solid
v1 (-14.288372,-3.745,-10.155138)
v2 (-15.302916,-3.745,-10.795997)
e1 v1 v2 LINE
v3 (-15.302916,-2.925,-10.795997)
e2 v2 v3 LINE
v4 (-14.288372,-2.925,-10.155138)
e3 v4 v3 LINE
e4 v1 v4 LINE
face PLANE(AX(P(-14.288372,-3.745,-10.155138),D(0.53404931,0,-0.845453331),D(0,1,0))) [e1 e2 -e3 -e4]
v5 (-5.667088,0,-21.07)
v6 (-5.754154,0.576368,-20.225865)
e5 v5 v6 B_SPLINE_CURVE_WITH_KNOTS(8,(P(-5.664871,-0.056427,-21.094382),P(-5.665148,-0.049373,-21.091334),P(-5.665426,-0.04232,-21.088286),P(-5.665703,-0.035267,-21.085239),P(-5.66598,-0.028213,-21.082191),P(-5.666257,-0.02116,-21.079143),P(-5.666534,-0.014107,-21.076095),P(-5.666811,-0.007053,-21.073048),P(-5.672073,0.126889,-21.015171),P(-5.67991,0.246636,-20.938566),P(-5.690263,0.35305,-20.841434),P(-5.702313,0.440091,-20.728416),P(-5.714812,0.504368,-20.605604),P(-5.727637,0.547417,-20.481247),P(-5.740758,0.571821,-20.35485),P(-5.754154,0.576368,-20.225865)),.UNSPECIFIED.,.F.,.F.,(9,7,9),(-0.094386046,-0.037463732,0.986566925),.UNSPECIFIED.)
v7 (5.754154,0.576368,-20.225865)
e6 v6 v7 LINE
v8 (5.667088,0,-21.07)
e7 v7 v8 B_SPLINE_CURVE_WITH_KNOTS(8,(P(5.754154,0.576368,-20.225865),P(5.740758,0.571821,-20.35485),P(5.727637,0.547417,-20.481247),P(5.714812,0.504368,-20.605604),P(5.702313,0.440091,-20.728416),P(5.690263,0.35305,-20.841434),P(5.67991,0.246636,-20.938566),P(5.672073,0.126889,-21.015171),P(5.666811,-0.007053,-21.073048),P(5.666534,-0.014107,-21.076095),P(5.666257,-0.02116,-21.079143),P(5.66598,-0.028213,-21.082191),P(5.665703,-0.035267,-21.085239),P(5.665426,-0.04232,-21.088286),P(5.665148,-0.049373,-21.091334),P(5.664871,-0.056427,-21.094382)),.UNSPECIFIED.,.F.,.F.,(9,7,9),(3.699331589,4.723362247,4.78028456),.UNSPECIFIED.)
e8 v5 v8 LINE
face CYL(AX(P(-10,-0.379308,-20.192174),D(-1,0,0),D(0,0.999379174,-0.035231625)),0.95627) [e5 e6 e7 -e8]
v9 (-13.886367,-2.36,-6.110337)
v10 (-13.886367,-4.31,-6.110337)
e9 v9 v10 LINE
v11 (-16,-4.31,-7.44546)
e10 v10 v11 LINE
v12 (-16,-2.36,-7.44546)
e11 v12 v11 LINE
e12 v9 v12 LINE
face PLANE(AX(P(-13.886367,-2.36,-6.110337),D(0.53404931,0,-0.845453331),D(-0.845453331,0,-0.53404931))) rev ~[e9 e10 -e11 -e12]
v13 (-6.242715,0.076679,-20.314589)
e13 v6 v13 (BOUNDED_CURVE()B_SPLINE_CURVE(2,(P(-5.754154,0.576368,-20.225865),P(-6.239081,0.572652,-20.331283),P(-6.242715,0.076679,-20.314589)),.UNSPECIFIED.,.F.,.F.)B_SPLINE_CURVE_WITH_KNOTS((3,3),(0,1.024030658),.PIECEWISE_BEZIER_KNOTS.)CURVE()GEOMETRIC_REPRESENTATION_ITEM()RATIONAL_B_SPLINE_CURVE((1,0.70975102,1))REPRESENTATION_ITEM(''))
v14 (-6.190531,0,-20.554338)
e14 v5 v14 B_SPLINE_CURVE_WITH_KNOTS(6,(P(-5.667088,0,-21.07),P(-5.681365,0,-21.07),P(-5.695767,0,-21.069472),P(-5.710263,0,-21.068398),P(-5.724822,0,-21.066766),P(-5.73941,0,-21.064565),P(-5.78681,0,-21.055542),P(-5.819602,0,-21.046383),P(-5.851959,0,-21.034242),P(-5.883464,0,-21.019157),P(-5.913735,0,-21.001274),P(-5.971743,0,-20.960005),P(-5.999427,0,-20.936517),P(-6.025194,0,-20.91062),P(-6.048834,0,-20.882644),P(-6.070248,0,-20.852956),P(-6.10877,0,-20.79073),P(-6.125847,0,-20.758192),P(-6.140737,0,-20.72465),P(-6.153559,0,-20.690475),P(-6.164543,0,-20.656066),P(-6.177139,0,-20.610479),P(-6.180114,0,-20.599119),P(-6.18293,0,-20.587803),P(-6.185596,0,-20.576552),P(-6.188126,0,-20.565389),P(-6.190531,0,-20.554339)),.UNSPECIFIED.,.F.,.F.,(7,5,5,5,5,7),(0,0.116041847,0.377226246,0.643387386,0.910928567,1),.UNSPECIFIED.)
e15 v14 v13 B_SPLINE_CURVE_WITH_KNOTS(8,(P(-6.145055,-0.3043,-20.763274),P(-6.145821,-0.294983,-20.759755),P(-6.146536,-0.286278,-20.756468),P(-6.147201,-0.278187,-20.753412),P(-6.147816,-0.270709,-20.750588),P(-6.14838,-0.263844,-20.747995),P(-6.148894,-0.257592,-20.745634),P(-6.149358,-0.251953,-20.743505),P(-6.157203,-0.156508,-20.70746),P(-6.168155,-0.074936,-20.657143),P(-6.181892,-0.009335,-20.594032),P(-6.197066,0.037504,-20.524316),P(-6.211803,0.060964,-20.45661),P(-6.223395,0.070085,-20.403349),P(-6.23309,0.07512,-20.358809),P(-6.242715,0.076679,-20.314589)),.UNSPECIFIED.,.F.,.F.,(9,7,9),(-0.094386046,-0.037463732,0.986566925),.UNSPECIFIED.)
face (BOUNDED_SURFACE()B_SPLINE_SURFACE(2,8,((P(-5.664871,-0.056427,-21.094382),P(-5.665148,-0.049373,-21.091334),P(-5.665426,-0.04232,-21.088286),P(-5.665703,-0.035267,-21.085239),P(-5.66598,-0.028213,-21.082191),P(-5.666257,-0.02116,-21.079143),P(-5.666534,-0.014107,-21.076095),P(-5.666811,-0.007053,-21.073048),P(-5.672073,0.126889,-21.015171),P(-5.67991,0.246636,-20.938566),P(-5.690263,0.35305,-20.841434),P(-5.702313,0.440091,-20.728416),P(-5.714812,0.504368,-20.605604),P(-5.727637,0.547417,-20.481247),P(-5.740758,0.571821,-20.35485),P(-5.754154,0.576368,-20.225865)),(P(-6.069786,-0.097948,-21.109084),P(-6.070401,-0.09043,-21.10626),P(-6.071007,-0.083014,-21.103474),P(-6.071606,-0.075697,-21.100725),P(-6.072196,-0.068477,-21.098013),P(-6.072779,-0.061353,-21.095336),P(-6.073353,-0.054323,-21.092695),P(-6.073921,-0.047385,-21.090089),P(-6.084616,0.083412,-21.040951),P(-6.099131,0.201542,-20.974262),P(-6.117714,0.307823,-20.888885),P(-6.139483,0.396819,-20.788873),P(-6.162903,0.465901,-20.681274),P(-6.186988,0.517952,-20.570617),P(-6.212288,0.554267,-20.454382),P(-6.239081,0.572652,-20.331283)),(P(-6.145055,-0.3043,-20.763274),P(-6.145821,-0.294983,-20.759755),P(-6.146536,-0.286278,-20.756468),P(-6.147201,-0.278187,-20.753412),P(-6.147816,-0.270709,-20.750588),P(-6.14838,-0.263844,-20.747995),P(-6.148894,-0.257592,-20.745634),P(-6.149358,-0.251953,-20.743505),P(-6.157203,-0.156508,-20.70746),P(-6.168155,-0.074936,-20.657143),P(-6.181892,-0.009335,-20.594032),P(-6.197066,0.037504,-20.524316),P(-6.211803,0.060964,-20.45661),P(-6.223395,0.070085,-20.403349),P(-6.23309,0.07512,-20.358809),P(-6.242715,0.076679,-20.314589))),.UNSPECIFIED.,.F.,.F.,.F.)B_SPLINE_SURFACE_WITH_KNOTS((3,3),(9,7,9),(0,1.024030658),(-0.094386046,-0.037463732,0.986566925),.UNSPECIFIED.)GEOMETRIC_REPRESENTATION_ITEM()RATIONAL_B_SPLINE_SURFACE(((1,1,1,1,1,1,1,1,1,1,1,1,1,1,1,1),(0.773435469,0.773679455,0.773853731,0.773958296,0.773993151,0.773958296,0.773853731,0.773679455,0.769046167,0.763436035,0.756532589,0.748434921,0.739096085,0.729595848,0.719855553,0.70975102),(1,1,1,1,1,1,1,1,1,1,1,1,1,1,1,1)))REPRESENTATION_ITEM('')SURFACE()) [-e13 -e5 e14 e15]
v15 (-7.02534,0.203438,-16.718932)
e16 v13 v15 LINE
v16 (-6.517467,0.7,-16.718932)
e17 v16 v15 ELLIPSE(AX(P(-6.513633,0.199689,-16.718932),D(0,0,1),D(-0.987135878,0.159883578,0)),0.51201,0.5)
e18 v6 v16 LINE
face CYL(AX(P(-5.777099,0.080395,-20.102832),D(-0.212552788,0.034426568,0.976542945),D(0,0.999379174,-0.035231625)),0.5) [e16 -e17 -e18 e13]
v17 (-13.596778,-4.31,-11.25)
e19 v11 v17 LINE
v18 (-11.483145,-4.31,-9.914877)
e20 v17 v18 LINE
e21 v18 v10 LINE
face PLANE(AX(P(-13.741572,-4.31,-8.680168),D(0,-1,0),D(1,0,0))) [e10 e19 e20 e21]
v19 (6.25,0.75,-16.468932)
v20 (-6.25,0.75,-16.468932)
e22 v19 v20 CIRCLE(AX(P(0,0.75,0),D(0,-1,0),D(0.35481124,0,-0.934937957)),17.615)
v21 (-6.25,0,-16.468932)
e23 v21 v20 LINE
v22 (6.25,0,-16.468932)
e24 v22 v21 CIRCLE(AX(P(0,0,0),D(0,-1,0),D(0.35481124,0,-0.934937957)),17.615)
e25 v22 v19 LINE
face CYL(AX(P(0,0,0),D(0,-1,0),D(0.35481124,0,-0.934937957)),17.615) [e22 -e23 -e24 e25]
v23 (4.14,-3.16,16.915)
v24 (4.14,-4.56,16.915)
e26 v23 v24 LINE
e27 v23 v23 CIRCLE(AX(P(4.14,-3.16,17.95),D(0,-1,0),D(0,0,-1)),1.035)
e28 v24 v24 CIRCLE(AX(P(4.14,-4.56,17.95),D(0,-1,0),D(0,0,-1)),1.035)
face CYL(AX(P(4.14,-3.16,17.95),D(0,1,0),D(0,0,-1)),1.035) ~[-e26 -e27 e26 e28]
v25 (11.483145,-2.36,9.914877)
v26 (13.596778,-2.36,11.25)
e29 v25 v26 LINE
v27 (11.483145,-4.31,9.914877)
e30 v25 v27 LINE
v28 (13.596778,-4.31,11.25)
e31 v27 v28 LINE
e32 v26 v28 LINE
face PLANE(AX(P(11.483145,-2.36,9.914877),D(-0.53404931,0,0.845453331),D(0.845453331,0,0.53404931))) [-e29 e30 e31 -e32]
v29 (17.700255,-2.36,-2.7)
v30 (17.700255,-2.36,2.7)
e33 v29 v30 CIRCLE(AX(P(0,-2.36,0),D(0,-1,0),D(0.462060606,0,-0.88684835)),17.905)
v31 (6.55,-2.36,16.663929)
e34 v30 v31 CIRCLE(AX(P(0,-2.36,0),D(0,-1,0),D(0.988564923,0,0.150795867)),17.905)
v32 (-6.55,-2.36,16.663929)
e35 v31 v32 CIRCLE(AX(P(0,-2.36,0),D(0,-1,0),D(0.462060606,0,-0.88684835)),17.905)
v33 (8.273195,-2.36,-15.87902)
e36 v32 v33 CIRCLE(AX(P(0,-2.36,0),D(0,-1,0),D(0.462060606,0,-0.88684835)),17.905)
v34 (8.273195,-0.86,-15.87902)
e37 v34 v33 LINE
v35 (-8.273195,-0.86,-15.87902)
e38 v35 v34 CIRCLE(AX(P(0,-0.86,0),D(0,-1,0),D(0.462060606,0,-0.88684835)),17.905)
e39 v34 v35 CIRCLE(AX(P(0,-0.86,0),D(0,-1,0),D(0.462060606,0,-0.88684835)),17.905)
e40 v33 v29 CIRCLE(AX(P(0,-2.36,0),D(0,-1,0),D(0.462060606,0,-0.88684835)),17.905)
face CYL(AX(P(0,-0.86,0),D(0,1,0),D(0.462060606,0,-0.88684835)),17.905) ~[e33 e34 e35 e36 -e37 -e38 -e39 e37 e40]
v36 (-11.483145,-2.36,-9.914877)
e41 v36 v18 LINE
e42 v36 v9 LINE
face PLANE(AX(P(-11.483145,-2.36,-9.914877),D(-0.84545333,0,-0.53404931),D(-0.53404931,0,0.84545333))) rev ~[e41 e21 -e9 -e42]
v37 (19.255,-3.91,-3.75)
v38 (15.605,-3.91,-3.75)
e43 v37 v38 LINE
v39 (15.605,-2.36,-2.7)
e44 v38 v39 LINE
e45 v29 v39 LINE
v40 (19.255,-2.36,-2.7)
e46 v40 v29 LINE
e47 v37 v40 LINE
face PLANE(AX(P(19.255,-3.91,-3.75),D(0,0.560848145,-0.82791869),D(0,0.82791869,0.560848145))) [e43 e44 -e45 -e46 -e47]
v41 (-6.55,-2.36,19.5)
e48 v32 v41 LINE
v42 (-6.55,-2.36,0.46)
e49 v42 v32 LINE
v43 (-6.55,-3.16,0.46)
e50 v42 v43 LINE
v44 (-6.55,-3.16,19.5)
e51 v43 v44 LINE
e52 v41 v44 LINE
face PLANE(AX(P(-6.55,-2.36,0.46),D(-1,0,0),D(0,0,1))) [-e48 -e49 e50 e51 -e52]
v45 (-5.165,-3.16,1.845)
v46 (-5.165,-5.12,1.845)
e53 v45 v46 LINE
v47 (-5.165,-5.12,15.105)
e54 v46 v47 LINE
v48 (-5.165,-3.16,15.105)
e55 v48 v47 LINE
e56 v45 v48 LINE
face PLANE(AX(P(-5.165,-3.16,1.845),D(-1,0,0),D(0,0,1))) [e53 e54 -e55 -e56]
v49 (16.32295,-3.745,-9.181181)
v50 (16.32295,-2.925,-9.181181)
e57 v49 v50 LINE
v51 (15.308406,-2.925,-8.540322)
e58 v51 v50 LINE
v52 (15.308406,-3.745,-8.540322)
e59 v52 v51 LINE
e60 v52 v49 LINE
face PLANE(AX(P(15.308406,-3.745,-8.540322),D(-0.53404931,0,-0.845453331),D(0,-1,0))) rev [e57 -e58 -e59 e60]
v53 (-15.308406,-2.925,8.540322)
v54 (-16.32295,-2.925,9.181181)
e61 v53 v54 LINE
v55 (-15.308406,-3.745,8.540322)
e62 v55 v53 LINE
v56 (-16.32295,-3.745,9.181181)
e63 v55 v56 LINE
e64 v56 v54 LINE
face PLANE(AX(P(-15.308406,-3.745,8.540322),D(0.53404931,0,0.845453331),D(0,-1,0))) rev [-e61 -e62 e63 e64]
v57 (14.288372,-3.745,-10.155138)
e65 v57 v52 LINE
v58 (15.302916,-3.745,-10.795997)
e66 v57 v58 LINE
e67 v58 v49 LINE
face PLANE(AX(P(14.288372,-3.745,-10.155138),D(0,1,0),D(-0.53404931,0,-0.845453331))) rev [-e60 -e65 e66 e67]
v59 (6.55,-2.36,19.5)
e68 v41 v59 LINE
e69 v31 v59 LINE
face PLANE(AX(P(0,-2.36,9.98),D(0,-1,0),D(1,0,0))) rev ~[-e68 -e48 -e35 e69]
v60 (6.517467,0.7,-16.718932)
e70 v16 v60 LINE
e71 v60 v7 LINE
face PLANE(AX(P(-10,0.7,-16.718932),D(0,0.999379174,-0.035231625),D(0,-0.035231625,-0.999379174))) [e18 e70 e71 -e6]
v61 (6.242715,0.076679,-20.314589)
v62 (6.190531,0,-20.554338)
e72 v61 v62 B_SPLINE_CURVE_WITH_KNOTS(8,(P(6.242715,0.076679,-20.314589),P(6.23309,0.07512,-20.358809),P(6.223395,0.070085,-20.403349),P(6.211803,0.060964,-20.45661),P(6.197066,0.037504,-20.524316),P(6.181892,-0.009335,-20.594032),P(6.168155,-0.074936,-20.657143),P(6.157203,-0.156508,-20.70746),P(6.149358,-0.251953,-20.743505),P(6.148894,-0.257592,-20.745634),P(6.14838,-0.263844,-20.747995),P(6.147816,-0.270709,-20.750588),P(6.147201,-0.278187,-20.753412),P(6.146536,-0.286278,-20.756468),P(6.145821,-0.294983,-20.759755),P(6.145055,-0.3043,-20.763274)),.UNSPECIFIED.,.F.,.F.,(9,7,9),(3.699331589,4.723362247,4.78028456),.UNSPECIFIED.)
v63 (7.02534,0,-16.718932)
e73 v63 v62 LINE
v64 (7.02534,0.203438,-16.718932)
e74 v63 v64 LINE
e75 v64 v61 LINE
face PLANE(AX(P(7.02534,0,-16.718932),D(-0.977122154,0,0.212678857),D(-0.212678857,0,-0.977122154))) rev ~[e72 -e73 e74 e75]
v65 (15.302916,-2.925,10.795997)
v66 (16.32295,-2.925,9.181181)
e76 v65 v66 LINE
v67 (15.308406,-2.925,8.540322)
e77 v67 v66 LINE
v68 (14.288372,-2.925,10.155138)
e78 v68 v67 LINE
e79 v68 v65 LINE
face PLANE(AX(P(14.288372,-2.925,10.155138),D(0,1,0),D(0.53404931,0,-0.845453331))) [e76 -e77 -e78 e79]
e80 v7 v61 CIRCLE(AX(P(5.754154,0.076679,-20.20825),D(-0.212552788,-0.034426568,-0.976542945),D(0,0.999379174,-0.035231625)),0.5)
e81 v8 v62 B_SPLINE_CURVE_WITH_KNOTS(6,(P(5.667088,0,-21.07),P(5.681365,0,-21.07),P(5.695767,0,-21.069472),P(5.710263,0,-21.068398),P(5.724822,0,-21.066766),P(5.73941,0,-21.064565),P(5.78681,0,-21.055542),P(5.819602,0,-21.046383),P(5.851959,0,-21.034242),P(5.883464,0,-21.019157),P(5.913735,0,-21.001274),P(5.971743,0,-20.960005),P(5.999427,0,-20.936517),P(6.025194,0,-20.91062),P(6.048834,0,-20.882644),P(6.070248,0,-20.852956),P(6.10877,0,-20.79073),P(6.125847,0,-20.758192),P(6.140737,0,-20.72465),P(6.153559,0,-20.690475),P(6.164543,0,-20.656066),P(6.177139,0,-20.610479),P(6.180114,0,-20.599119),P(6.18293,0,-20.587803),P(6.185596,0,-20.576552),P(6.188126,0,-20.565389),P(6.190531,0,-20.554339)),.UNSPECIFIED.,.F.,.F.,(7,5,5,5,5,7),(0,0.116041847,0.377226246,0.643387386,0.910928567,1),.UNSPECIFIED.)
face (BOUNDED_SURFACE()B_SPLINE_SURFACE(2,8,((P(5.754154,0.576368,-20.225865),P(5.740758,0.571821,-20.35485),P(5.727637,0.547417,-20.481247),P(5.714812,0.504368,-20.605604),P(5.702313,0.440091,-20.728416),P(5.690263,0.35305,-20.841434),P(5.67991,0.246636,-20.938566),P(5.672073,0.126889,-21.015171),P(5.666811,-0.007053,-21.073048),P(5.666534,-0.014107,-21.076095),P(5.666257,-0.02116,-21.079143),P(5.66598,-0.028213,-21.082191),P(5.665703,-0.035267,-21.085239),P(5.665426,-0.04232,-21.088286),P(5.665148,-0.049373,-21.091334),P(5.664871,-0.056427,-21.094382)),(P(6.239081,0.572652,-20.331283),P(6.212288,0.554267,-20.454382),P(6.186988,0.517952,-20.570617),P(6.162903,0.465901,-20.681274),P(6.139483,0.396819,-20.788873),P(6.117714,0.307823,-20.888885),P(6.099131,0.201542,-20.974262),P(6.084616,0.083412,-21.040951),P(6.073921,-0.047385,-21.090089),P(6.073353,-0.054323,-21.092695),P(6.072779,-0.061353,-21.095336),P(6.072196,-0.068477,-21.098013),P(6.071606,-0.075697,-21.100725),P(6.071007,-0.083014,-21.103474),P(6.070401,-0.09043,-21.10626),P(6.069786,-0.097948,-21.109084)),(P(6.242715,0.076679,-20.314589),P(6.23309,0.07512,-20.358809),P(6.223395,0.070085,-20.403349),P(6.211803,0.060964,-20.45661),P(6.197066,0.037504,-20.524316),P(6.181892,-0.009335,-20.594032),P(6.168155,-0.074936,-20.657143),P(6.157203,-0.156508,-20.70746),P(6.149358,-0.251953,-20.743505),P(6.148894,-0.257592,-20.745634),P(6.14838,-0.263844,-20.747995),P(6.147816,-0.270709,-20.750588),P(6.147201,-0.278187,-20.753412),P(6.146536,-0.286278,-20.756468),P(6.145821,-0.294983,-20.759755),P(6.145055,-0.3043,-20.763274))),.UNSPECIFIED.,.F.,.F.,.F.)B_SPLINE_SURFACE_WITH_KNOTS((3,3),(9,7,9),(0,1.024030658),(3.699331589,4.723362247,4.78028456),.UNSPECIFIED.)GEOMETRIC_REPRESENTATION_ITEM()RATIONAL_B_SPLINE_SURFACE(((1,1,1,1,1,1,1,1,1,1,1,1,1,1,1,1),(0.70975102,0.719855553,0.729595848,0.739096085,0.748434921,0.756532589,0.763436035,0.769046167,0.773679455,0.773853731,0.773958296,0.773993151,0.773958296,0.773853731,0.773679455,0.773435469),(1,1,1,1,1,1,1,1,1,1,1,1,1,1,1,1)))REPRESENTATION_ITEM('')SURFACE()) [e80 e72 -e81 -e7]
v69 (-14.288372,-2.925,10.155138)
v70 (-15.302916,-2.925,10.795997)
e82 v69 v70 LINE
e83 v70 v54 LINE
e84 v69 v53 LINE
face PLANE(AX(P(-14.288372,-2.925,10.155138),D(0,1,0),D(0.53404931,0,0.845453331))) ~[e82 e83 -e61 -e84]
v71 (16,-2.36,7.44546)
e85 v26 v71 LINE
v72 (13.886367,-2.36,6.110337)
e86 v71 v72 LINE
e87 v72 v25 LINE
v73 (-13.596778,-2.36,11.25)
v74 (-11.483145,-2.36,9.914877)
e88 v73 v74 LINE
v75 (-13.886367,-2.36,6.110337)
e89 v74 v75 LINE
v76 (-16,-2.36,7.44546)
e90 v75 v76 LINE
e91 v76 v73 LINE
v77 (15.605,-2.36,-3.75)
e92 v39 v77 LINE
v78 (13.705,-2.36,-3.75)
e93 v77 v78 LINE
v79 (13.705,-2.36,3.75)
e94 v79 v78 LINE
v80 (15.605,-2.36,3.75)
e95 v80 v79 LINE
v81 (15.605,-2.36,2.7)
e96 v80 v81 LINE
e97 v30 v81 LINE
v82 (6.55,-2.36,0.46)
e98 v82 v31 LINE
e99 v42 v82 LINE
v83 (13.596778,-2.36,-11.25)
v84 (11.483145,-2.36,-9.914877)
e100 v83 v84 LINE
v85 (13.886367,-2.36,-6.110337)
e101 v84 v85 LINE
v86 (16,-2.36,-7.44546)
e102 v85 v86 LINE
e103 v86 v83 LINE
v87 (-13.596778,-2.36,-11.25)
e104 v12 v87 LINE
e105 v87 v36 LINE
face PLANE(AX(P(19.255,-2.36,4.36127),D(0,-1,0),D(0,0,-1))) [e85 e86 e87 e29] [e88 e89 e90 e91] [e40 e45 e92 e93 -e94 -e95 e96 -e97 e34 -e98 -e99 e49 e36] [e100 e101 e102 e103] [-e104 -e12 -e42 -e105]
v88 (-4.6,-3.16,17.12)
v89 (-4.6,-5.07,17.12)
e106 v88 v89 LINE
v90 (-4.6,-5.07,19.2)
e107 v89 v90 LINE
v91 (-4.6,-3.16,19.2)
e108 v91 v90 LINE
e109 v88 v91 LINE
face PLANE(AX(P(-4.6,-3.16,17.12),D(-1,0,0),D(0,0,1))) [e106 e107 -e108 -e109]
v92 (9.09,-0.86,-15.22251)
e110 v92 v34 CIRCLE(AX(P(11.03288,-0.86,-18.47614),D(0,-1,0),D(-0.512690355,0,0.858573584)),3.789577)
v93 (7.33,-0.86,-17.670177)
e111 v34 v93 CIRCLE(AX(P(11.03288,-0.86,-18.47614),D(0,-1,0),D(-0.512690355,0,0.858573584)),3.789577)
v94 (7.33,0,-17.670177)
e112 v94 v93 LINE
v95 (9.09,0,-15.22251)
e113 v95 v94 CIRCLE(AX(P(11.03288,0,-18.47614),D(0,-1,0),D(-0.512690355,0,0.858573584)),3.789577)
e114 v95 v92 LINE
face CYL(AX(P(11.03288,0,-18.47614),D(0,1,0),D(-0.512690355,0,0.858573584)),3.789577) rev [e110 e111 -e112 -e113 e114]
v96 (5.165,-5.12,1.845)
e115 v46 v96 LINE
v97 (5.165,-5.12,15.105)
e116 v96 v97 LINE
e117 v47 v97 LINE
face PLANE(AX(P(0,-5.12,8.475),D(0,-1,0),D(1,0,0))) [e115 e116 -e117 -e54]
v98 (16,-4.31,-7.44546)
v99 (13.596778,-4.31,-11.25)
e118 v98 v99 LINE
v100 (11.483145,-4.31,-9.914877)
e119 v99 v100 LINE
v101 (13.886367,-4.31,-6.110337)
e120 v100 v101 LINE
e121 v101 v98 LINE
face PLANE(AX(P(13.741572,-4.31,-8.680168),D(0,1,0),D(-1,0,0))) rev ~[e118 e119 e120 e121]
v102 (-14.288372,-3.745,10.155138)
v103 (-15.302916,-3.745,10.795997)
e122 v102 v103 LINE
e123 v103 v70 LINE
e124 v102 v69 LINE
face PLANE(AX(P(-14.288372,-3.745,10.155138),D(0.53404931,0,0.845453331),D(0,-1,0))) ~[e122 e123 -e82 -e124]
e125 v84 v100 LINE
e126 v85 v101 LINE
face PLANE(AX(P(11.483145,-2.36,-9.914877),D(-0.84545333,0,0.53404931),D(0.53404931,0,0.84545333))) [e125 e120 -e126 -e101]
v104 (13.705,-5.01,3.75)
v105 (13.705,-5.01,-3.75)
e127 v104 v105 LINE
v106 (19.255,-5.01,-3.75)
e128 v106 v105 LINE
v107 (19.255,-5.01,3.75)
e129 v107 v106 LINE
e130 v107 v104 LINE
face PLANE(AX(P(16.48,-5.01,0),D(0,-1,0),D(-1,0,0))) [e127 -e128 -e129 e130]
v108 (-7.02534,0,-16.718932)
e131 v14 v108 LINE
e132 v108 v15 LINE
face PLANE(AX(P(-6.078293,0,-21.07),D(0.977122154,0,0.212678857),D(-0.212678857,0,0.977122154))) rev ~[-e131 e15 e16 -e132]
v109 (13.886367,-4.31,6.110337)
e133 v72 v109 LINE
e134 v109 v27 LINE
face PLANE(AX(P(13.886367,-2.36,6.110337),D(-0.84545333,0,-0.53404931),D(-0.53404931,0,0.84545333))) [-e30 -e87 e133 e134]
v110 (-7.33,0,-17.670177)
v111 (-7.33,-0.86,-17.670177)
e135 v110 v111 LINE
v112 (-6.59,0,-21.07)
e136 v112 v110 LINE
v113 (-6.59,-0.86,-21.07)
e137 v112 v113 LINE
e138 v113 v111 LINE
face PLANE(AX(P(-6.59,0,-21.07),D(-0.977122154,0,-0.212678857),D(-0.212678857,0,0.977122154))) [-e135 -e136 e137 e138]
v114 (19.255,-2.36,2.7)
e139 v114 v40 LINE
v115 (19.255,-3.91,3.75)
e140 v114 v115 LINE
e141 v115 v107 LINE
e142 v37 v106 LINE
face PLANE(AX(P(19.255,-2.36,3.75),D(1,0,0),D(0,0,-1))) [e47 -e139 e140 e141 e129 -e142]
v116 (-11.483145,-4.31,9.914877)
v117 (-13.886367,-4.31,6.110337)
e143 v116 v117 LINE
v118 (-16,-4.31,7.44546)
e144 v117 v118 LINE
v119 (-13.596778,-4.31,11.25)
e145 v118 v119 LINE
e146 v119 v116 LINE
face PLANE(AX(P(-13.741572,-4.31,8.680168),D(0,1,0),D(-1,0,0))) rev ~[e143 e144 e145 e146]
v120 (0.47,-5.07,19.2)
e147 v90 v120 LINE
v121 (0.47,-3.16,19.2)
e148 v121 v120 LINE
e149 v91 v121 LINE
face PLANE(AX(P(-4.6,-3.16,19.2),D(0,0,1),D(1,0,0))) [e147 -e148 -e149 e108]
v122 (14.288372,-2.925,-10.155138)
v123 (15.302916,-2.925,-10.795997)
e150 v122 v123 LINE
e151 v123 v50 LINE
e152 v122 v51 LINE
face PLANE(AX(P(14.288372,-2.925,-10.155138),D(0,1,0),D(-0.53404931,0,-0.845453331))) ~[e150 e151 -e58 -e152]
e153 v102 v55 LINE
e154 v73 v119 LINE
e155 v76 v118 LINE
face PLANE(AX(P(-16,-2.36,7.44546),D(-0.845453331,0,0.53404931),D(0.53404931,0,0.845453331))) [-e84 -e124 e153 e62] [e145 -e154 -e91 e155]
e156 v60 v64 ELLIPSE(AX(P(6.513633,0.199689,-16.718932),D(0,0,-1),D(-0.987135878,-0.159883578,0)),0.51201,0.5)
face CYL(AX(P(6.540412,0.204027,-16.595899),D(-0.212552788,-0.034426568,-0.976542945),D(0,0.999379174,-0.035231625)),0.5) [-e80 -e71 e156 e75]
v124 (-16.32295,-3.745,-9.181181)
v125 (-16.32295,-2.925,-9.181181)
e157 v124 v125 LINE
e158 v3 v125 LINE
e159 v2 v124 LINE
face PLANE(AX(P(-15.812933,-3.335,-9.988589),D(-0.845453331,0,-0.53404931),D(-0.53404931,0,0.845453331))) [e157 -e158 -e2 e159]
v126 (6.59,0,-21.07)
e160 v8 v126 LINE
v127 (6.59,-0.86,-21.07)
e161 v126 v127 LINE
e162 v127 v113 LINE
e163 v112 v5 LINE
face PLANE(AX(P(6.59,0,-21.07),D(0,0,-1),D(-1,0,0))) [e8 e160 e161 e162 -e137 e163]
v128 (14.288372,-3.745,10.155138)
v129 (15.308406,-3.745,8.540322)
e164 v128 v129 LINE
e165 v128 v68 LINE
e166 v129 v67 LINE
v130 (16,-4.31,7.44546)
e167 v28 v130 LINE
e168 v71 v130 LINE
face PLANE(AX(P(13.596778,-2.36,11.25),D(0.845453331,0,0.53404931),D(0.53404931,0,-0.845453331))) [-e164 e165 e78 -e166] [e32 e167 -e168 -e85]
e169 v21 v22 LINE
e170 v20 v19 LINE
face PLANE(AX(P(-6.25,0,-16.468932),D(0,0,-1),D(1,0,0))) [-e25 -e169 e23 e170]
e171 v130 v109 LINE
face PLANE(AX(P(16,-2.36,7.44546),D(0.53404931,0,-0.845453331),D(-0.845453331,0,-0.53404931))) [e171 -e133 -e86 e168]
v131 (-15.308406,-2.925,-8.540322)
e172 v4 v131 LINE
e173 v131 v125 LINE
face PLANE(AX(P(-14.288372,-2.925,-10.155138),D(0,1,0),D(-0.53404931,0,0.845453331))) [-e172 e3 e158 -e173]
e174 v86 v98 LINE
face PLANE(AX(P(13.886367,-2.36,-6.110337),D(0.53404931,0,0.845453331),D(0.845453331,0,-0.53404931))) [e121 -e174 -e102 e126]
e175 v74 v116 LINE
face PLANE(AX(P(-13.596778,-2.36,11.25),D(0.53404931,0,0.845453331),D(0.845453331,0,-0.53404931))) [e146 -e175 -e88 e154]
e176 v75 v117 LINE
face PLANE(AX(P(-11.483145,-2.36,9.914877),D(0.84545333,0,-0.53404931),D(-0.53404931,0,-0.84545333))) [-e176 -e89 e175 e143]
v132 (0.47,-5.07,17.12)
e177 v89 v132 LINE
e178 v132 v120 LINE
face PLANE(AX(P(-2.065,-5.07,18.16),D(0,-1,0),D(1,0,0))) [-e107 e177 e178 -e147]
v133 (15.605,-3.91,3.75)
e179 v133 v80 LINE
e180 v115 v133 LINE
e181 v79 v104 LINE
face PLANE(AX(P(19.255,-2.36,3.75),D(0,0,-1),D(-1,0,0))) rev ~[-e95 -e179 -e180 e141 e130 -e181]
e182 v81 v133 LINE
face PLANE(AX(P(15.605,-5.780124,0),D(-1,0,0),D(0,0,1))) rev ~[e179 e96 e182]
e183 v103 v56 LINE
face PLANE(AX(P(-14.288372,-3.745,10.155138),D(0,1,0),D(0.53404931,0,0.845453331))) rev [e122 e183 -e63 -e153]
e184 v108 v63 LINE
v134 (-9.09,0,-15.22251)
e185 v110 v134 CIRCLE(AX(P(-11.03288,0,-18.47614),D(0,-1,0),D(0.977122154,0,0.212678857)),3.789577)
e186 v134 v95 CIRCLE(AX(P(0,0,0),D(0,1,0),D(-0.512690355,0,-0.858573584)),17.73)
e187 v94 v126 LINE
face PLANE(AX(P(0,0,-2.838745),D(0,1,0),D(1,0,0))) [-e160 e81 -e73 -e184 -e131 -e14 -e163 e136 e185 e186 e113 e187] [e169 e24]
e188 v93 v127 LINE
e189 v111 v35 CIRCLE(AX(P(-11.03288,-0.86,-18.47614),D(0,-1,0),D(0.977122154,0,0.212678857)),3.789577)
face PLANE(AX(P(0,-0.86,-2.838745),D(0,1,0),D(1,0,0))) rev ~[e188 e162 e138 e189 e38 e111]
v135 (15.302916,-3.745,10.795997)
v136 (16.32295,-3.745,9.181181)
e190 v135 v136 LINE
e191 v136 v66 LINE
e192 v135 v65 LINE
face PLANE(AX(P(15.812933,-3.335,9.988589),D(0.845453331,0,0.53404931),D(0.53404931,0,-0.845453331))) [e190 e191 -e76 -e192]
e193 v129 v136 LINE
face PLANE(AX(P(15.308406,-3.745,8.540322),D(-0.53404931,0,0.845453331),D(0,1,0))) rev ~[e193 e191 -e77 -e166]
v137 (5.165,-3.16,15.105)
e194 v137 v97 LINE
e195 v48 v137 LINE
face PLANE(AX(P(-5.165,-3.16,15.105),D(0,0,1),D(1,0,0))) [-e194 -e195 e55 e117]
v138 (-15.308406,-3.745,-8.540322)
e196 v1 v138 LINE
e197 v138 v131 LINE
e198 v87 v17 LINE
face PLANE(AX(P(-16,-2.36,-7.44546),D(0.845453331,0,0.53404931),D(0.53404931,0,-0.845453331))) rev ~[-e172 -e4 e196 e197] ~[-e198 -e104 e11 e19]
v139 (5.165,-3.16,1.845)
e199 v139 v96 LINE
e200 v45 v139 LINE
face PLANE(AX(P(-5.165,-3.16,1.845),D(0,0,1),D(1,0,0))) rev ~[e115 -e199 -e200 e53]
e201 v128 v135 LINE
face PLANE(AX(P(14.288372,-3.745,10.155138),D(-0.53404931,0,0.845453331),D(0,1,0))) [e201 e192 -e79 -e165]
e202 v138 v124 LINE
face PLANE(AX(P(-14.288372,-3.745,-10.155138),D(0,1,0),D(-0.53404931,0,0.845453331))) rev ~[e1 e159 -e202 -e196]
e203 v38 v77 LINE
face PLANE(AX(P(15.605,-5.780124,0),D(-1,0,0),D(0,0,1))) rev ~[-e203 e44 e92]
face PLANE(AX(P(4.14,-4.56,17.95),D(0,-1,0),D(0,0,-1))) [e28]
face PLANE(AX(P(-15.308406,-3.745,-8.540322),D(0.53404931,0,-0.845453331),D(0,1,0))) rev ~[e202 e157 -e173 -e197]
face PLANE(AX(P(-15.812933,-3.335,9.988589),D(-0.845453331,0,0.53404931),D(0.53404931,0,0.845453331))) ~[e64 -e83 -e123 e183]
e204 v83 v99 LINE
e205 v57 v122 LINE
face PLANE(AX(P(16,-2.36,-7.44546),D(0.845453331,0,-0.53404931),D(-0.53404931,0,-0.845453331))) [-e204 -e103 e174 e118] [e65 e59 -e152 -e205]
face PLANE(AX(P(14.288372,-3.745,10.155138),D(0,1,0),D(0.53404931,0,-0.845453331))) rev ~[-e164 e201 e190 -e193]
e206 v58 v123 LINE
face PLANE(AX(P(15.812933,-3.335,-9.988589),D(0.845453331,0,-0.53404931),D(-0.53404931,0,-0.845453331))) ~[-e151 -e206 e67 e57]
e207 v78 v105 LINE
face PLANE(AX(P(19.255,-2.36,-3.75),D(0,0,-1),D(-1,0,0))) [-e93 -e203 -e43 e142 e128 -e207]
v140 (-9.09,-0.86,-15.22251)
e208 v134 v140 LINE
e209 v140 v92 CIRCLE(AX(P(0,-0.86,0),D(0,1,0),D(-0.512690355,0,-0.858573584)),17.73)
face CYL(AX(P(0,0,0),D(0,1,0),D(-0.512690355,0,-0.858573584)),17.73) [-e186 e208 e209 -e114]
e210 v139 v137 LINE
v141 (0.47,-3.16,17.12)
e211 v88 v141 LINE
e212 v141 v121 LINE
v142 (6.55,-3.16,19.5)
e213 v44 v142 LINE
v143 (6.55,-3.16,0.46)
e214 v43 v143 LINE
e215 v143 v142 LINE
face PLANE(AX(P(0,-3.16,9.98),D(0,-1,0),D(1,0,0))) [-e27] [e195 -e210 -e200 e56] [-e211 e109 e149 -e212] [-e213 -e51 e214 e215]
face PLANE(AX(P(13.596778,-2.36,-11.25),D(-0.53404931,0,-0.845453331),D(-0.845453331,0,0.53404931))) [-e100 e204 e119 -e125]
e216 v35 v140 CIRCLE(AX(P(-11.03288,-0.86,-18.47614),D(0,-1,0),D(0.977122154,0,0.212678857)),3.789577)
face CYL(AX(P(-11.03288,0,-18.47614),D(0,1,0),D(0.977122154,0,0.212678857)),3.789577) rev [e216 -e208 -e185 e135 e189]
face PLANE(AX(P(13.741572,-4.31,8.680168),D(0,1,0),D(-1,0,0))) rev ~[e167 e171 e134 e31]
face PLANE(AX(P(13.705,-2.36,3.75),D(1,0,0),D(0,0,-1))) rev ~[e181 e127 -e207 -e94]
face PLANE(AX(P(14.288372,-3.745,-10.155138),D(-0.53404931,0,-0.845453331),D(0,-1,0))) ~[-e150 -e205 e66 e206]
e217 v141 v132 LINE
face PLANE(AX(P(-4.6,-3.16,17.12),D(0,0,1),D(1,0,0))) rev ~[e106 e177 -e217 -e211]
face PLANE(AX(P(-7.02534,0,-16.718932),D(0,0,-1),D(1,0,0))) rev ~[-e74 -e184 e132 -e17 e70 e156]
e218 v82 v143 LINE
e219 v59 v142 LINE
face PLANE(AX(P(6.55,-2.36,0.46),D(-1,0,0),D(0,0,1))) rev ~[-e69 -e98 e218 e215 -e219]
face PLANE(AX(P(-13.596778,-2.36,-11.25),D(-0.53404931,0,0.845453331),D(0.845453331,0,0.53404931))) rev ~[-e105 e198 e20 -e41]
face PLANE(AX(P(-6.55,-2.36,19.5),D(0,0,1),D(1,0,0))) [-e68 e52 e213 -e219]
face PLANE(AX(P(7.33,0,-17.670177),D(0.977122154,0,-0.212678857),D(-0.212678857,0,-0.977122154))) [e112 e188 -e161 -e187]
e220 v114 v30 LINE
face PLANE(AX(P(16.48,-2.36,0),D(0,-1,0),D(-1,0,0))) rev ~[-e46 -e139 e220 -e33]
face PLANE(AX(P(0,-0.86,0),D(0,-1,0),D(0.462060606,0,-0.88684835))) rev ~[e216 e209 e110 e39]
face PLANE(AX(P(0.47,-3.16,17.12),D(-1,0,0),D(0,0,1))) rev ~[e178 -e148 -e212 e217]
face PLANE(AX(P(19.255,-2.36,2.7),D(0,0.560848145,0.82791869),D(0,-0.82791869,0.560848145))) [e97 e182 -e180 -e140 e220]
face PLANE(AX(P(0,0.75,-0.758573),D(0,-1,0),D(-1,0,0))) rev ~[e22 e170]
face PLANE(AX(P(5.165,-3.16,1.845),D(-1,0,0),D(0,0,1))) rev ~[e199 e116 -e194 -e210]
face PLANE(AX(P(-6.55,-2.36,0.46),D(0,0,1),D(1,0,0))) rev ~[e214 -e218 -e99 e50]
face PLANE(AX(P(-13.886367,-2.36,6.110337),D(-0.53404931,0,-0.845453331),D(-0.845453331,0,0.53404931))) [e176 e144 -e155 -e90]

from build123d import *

# Parameters (mm, degrees)
BOSS_EXTRUDE1_DEPTH     = 0.75
BOSS_EXTRUDE2_DEPTH     = 0.86
SKETCH3_R               = 17.905
BOSS_EXTRUDE3_DEPTH     = 1.5
SKETCH4_W               = 13.1
SKETCH4_H               = 19.04
BOSS_EXTRUDE4_DEPTH     = 0.8
SKETCH5_W               = 10.33
SKETCH5_H               = 13.26
BOSS_EXTRUDE5_DEPTH     = 1.96
SKETCH6_W               = 5.07
SKETCH6_H               = 2.08
BOSS_EXTRUDE6_DEPTH     = 1.91
SKETCH7_R               = 1.035
BOSS_EXTRUDE7_DEPTH     = 1.4
BOSS_EXTRUDE8_DEPTH     = 1.95
SKETCH9_W               = 1.91
SKETCH9_H               = 0.82
BOSS_EXTRUDE9_DEPTH     = 1.2
MIRROR2_COPY_1_SKETCH_W = 1.91
MIRROR2_COPY_1_SKETCH_H = 0.82
MIRROR2_COPY_1_DEPTH    = 1.2
SKETCH10_W              = 5.55
SKETCH10_H              = 7.5
BOSS_EXTRUDE10_DEPTH    = 2.65
CUT_EXTRUDE1_DEPTH      = 3.65
BOSS_EXTRUDE11_DEPTH    = 0.7
CUT_EXTRUDE2_DEPTH      = 10
CUT_EXTRUDE2_DEPTH_BACK = 10
FILLET1_R               = 0.5


with BuildPart() as part:
    # Sketch1 → Boss-Extrude1 (new body)
    with BuildSketch(Plane(origin=(0, 0, 0), x_dir=(1, 0, 0), z_dir=(0, 1, 0))):
        with BuildLine():
            Line((-6.25, 16.468932115), (6.25, 16.468932115))
            ThreePointArc((6.25, 16.468932115), (0, -17.615), (-6.25, 16.468932115))
        make_face()
    extrude(amount=BOSS_EXTRUDE1_DEPTH)

    # Sketch2 → Boss-Extrude2 (add)
    with BuildSketch(Plane(origin=(0, 0, 0), x_dir=(1, 0, 0), z_dir=(0, 1, 0))):
        with BuildLine():
            Line((6.59, 21.07), (-6.59, 21.07))
            Line((-6.59, 21.07), (-7.33, 17.670177364))
            ThreePointArc((-7.33, 17.670177364), (-7.956125045, 16.26379425), (-9.09, 15.222509649))
            ThreePointArc((-9.09, 15.222509649), (0, -17.73), (9.09, 15.222509649))
            ThreePointArc((9.09, 15.222509649), (7.956125045, 16.26379425), (7.33, 17.670177364))
            Line((7.33, 17.670177364), (6.59, 21.07))
        make_face()
    extrude(amount=-BOSS_EXTRUDE2_DEPTH)

    # Sketch3 → Boss-Extrude3 (add)
    with BuildSketch(Plane.XZ.offset(0.86)):
        with Locations(Location((0, 0, 0), (0, 0, 297.520154759))):
            Circle(SKETCH3_R)
    extrude(amount=BOSS_EXTRUDE3_DEPTH)

    # Sketch4 → Boss-Extrude4 (add)
    with BuildSketch(Plane.XZ.offset(2.36)):
        with Locations((0, 9.98)):
            Rectangle(SKETCH4_W, SKETCH4_H)
    extrude(amount=BOSS_EXTRUDE4_DEPTH)

    # Sketch5 → Boss-Extrude5 (add)
    with BuildSketch(Plane.XZ.offset(3.16)):
        with Locations((0, 8.475)):
            Rectangle(SKETCH5_W, SKETCH5_H)
    extrude(amount=BOSS_EXTRUDE5_DEPTH)

    # Sketch6 → Boss-Extrude6 (add)
    with BuildSketch(Plane.XZ.offset(3.16)):
        with Locations((-2.065, 18.16)):
            Rectangle(SKETCH6_W, SKETCH6_H)
    extrude(amount=BOSS_EXTRUDE6_DEPTH)

    # Sketch7 → Boss-Extrude7 (add)
    with BuildSketch(Plane.XZ.offset(3.16)):
        with Locations(Location((4.14, 17.95, 0), (0, 0, 270))):
            Circle(SKETCH7_R)
    extrude(amount=BOSS_EXTRUDE7_DEPTH)

    # Sketch8 → Boss-Extrude8 (add)
    with BuildSketch(Plane.XZ.offset(2.36)):
        Polygon((16, -7.445460012), (13.596778104, -11.25), (11.483144777, -9.914876724), (13.886366674, -6.110336737), align=None)
        Polygon((-16, -7.445460012), (-13.596778104, -11.25), (-11.483144777, -9.914876724), (-13.886366674, -6.110336737), align=None)
        Polygon((-16, 7.445460012), (-13.596778104, 11.25), (-11.483144777, 9.914876724), (-13.886366674, 6.110336737), align=None)
        Polygon((13.886366674, 6.110336737), (11.483144777, 9.914876724), (13.596778104, 11.25), (16, 7.445460012), align=None)
    extrude(amount=BOSS_EXTRUDE8_DEPTH)

    # Sketch9 → Boss-Extrude9 (add)
    with BuildSketch(Plane(origin=(-14.798389052, 0, -9.347730006), x_dir=(-0.5340493103180728, 0, 0.84545333055633), z_dir=(-0.8454533305563299, 0, -0.5340493103180727))):
        with Locations((0, -3.335)):
            Rectangle(SKETCH9_W, SKETCH9_H)
    boss_extrude9 = extrude(amount=BOSS_EXTRUDE9_DEPTH)

    # Mirror1: Boss-Extrude9 across plane
    add(boss_extrude9.mirror(Plane.XY))

    # Mirror2: Boss-Extrude9 across plane
    add(boss_extrude9.mirror(Plane(origin=(0, 0, 0), x_dir=(0, 0, 1), z_dir=(1, 0, 0))))

    # Mirror2 copy 1 sketch → Mirror2 copy 1 (add)
    with BuildSketch(Plane(origin=(14.798389052, 0, 9.347730006), x_dir=(0.5340493103180728, 0, -0.84545333055633), z_dir=(0.8454533305563299, 0, 0.5340493103180727))):
        with Locations((0, -3.335)):
            Rectangle(MIRROR2_COPY_1_SKETCH_W, MIRROR2_COPY_1_SKETCH_H)
    extrude(amount=MIRROR2_COPY_1_DEPTH)

    # Sketch10 → Boss-Extrude10 (add)
    with BuildSketch(Plane(origin=(0, -2.36, 0), x_dir=(-1, 0, 0), z_dir=(0, -1, 0))):
        with Locations((-16.48, 0)):
            Rectangle(SKETCH10_W, SKETCH10_H)
    extrude(amount=BOSS_EXTRUDE10_DEPTH)

    # Sketch11 → Cut-Extrude1 (cut)
    with BuildSketch(Plane(origin=(19.255, 0, 0), x_dir=(0, 0, -1), z_dir=(1, 0, 0))):
        Polygon((3.75, -5.01), (3.75, -3.91), (2.7, -2.36), (4.361270296, -2.36), (4.361270296, -9.207681493), (-4.361270296, -9.207681493), (-4.361270296, -2.36), (-2.7, -2.36), (-3.75, -3.91), (-3.75, -5.01), align=None)
    extrude(amount=-CUT_EXTRUDE1_DEPTH, mode=Mode.SUBTRACT)

    # Sketch12 → Boss-Extrude11 (add)
    with BuildSketch(Plane(origin=(0, 0, 0), x_dir=(1, 0, 0), z_dir=(0, 1, 0))):
        Polygon((-7.025339783, 16.718932115), (7.025339783, 16.718932115), (6.078293252, 21.07), (-6.078293252, 21.07), align=None)
    extrude(amount=BOSS_EXTRUDE11_DEPTH)

    # Sketch13 → Cut-Extrude2 (cut, two sides: drawn at the far end of the back side and taken through both)
    with BuildSketch(Plane(origin=(0, 0, 0), x_dir=(0, 0, -1), z_dir=(1, 0, 0)).offset(-CUT_EXTRUDE2_DEPTH_BACK)):
        with BuildLine():
            Line((16.718932115, 0.7), (20.225865386, 0.576368288))
            ThreePointArc((20.225865386, 0.576368288), (20.731401374, 0.410430291), (21.07, 0))
            Line((21.07, 0), (21.650216757, 1.081319804))
            Line((21.650216757, 1.081319804), (16.718932115, 1.620600457))
            Line((16.718932115, 1.620600457), (16.718932115, 0.7))
        make_face()
    extrude(amount=CUT_EXTRUDE2_DEPTH + CUT_EXTRUDE2_DEPTH_BACK, mode=Mode.SUBTRACT)

    # Fillet1
    fillet1_edges = [part.edges().sort_by_distance(p)[0] for p in [
        (6.152517901, 0.412074342, -20.728985619),
        (-6.152517901, 0.412074342, -20.728985619),
        (-6.643683018, 0.638184144, -18.47239875),
        (6.643683018, 0.638184144, -18.47239875),
    ]]
    fillet(fillet1_edges, radius=FILLET1_R)


solid = part.part
